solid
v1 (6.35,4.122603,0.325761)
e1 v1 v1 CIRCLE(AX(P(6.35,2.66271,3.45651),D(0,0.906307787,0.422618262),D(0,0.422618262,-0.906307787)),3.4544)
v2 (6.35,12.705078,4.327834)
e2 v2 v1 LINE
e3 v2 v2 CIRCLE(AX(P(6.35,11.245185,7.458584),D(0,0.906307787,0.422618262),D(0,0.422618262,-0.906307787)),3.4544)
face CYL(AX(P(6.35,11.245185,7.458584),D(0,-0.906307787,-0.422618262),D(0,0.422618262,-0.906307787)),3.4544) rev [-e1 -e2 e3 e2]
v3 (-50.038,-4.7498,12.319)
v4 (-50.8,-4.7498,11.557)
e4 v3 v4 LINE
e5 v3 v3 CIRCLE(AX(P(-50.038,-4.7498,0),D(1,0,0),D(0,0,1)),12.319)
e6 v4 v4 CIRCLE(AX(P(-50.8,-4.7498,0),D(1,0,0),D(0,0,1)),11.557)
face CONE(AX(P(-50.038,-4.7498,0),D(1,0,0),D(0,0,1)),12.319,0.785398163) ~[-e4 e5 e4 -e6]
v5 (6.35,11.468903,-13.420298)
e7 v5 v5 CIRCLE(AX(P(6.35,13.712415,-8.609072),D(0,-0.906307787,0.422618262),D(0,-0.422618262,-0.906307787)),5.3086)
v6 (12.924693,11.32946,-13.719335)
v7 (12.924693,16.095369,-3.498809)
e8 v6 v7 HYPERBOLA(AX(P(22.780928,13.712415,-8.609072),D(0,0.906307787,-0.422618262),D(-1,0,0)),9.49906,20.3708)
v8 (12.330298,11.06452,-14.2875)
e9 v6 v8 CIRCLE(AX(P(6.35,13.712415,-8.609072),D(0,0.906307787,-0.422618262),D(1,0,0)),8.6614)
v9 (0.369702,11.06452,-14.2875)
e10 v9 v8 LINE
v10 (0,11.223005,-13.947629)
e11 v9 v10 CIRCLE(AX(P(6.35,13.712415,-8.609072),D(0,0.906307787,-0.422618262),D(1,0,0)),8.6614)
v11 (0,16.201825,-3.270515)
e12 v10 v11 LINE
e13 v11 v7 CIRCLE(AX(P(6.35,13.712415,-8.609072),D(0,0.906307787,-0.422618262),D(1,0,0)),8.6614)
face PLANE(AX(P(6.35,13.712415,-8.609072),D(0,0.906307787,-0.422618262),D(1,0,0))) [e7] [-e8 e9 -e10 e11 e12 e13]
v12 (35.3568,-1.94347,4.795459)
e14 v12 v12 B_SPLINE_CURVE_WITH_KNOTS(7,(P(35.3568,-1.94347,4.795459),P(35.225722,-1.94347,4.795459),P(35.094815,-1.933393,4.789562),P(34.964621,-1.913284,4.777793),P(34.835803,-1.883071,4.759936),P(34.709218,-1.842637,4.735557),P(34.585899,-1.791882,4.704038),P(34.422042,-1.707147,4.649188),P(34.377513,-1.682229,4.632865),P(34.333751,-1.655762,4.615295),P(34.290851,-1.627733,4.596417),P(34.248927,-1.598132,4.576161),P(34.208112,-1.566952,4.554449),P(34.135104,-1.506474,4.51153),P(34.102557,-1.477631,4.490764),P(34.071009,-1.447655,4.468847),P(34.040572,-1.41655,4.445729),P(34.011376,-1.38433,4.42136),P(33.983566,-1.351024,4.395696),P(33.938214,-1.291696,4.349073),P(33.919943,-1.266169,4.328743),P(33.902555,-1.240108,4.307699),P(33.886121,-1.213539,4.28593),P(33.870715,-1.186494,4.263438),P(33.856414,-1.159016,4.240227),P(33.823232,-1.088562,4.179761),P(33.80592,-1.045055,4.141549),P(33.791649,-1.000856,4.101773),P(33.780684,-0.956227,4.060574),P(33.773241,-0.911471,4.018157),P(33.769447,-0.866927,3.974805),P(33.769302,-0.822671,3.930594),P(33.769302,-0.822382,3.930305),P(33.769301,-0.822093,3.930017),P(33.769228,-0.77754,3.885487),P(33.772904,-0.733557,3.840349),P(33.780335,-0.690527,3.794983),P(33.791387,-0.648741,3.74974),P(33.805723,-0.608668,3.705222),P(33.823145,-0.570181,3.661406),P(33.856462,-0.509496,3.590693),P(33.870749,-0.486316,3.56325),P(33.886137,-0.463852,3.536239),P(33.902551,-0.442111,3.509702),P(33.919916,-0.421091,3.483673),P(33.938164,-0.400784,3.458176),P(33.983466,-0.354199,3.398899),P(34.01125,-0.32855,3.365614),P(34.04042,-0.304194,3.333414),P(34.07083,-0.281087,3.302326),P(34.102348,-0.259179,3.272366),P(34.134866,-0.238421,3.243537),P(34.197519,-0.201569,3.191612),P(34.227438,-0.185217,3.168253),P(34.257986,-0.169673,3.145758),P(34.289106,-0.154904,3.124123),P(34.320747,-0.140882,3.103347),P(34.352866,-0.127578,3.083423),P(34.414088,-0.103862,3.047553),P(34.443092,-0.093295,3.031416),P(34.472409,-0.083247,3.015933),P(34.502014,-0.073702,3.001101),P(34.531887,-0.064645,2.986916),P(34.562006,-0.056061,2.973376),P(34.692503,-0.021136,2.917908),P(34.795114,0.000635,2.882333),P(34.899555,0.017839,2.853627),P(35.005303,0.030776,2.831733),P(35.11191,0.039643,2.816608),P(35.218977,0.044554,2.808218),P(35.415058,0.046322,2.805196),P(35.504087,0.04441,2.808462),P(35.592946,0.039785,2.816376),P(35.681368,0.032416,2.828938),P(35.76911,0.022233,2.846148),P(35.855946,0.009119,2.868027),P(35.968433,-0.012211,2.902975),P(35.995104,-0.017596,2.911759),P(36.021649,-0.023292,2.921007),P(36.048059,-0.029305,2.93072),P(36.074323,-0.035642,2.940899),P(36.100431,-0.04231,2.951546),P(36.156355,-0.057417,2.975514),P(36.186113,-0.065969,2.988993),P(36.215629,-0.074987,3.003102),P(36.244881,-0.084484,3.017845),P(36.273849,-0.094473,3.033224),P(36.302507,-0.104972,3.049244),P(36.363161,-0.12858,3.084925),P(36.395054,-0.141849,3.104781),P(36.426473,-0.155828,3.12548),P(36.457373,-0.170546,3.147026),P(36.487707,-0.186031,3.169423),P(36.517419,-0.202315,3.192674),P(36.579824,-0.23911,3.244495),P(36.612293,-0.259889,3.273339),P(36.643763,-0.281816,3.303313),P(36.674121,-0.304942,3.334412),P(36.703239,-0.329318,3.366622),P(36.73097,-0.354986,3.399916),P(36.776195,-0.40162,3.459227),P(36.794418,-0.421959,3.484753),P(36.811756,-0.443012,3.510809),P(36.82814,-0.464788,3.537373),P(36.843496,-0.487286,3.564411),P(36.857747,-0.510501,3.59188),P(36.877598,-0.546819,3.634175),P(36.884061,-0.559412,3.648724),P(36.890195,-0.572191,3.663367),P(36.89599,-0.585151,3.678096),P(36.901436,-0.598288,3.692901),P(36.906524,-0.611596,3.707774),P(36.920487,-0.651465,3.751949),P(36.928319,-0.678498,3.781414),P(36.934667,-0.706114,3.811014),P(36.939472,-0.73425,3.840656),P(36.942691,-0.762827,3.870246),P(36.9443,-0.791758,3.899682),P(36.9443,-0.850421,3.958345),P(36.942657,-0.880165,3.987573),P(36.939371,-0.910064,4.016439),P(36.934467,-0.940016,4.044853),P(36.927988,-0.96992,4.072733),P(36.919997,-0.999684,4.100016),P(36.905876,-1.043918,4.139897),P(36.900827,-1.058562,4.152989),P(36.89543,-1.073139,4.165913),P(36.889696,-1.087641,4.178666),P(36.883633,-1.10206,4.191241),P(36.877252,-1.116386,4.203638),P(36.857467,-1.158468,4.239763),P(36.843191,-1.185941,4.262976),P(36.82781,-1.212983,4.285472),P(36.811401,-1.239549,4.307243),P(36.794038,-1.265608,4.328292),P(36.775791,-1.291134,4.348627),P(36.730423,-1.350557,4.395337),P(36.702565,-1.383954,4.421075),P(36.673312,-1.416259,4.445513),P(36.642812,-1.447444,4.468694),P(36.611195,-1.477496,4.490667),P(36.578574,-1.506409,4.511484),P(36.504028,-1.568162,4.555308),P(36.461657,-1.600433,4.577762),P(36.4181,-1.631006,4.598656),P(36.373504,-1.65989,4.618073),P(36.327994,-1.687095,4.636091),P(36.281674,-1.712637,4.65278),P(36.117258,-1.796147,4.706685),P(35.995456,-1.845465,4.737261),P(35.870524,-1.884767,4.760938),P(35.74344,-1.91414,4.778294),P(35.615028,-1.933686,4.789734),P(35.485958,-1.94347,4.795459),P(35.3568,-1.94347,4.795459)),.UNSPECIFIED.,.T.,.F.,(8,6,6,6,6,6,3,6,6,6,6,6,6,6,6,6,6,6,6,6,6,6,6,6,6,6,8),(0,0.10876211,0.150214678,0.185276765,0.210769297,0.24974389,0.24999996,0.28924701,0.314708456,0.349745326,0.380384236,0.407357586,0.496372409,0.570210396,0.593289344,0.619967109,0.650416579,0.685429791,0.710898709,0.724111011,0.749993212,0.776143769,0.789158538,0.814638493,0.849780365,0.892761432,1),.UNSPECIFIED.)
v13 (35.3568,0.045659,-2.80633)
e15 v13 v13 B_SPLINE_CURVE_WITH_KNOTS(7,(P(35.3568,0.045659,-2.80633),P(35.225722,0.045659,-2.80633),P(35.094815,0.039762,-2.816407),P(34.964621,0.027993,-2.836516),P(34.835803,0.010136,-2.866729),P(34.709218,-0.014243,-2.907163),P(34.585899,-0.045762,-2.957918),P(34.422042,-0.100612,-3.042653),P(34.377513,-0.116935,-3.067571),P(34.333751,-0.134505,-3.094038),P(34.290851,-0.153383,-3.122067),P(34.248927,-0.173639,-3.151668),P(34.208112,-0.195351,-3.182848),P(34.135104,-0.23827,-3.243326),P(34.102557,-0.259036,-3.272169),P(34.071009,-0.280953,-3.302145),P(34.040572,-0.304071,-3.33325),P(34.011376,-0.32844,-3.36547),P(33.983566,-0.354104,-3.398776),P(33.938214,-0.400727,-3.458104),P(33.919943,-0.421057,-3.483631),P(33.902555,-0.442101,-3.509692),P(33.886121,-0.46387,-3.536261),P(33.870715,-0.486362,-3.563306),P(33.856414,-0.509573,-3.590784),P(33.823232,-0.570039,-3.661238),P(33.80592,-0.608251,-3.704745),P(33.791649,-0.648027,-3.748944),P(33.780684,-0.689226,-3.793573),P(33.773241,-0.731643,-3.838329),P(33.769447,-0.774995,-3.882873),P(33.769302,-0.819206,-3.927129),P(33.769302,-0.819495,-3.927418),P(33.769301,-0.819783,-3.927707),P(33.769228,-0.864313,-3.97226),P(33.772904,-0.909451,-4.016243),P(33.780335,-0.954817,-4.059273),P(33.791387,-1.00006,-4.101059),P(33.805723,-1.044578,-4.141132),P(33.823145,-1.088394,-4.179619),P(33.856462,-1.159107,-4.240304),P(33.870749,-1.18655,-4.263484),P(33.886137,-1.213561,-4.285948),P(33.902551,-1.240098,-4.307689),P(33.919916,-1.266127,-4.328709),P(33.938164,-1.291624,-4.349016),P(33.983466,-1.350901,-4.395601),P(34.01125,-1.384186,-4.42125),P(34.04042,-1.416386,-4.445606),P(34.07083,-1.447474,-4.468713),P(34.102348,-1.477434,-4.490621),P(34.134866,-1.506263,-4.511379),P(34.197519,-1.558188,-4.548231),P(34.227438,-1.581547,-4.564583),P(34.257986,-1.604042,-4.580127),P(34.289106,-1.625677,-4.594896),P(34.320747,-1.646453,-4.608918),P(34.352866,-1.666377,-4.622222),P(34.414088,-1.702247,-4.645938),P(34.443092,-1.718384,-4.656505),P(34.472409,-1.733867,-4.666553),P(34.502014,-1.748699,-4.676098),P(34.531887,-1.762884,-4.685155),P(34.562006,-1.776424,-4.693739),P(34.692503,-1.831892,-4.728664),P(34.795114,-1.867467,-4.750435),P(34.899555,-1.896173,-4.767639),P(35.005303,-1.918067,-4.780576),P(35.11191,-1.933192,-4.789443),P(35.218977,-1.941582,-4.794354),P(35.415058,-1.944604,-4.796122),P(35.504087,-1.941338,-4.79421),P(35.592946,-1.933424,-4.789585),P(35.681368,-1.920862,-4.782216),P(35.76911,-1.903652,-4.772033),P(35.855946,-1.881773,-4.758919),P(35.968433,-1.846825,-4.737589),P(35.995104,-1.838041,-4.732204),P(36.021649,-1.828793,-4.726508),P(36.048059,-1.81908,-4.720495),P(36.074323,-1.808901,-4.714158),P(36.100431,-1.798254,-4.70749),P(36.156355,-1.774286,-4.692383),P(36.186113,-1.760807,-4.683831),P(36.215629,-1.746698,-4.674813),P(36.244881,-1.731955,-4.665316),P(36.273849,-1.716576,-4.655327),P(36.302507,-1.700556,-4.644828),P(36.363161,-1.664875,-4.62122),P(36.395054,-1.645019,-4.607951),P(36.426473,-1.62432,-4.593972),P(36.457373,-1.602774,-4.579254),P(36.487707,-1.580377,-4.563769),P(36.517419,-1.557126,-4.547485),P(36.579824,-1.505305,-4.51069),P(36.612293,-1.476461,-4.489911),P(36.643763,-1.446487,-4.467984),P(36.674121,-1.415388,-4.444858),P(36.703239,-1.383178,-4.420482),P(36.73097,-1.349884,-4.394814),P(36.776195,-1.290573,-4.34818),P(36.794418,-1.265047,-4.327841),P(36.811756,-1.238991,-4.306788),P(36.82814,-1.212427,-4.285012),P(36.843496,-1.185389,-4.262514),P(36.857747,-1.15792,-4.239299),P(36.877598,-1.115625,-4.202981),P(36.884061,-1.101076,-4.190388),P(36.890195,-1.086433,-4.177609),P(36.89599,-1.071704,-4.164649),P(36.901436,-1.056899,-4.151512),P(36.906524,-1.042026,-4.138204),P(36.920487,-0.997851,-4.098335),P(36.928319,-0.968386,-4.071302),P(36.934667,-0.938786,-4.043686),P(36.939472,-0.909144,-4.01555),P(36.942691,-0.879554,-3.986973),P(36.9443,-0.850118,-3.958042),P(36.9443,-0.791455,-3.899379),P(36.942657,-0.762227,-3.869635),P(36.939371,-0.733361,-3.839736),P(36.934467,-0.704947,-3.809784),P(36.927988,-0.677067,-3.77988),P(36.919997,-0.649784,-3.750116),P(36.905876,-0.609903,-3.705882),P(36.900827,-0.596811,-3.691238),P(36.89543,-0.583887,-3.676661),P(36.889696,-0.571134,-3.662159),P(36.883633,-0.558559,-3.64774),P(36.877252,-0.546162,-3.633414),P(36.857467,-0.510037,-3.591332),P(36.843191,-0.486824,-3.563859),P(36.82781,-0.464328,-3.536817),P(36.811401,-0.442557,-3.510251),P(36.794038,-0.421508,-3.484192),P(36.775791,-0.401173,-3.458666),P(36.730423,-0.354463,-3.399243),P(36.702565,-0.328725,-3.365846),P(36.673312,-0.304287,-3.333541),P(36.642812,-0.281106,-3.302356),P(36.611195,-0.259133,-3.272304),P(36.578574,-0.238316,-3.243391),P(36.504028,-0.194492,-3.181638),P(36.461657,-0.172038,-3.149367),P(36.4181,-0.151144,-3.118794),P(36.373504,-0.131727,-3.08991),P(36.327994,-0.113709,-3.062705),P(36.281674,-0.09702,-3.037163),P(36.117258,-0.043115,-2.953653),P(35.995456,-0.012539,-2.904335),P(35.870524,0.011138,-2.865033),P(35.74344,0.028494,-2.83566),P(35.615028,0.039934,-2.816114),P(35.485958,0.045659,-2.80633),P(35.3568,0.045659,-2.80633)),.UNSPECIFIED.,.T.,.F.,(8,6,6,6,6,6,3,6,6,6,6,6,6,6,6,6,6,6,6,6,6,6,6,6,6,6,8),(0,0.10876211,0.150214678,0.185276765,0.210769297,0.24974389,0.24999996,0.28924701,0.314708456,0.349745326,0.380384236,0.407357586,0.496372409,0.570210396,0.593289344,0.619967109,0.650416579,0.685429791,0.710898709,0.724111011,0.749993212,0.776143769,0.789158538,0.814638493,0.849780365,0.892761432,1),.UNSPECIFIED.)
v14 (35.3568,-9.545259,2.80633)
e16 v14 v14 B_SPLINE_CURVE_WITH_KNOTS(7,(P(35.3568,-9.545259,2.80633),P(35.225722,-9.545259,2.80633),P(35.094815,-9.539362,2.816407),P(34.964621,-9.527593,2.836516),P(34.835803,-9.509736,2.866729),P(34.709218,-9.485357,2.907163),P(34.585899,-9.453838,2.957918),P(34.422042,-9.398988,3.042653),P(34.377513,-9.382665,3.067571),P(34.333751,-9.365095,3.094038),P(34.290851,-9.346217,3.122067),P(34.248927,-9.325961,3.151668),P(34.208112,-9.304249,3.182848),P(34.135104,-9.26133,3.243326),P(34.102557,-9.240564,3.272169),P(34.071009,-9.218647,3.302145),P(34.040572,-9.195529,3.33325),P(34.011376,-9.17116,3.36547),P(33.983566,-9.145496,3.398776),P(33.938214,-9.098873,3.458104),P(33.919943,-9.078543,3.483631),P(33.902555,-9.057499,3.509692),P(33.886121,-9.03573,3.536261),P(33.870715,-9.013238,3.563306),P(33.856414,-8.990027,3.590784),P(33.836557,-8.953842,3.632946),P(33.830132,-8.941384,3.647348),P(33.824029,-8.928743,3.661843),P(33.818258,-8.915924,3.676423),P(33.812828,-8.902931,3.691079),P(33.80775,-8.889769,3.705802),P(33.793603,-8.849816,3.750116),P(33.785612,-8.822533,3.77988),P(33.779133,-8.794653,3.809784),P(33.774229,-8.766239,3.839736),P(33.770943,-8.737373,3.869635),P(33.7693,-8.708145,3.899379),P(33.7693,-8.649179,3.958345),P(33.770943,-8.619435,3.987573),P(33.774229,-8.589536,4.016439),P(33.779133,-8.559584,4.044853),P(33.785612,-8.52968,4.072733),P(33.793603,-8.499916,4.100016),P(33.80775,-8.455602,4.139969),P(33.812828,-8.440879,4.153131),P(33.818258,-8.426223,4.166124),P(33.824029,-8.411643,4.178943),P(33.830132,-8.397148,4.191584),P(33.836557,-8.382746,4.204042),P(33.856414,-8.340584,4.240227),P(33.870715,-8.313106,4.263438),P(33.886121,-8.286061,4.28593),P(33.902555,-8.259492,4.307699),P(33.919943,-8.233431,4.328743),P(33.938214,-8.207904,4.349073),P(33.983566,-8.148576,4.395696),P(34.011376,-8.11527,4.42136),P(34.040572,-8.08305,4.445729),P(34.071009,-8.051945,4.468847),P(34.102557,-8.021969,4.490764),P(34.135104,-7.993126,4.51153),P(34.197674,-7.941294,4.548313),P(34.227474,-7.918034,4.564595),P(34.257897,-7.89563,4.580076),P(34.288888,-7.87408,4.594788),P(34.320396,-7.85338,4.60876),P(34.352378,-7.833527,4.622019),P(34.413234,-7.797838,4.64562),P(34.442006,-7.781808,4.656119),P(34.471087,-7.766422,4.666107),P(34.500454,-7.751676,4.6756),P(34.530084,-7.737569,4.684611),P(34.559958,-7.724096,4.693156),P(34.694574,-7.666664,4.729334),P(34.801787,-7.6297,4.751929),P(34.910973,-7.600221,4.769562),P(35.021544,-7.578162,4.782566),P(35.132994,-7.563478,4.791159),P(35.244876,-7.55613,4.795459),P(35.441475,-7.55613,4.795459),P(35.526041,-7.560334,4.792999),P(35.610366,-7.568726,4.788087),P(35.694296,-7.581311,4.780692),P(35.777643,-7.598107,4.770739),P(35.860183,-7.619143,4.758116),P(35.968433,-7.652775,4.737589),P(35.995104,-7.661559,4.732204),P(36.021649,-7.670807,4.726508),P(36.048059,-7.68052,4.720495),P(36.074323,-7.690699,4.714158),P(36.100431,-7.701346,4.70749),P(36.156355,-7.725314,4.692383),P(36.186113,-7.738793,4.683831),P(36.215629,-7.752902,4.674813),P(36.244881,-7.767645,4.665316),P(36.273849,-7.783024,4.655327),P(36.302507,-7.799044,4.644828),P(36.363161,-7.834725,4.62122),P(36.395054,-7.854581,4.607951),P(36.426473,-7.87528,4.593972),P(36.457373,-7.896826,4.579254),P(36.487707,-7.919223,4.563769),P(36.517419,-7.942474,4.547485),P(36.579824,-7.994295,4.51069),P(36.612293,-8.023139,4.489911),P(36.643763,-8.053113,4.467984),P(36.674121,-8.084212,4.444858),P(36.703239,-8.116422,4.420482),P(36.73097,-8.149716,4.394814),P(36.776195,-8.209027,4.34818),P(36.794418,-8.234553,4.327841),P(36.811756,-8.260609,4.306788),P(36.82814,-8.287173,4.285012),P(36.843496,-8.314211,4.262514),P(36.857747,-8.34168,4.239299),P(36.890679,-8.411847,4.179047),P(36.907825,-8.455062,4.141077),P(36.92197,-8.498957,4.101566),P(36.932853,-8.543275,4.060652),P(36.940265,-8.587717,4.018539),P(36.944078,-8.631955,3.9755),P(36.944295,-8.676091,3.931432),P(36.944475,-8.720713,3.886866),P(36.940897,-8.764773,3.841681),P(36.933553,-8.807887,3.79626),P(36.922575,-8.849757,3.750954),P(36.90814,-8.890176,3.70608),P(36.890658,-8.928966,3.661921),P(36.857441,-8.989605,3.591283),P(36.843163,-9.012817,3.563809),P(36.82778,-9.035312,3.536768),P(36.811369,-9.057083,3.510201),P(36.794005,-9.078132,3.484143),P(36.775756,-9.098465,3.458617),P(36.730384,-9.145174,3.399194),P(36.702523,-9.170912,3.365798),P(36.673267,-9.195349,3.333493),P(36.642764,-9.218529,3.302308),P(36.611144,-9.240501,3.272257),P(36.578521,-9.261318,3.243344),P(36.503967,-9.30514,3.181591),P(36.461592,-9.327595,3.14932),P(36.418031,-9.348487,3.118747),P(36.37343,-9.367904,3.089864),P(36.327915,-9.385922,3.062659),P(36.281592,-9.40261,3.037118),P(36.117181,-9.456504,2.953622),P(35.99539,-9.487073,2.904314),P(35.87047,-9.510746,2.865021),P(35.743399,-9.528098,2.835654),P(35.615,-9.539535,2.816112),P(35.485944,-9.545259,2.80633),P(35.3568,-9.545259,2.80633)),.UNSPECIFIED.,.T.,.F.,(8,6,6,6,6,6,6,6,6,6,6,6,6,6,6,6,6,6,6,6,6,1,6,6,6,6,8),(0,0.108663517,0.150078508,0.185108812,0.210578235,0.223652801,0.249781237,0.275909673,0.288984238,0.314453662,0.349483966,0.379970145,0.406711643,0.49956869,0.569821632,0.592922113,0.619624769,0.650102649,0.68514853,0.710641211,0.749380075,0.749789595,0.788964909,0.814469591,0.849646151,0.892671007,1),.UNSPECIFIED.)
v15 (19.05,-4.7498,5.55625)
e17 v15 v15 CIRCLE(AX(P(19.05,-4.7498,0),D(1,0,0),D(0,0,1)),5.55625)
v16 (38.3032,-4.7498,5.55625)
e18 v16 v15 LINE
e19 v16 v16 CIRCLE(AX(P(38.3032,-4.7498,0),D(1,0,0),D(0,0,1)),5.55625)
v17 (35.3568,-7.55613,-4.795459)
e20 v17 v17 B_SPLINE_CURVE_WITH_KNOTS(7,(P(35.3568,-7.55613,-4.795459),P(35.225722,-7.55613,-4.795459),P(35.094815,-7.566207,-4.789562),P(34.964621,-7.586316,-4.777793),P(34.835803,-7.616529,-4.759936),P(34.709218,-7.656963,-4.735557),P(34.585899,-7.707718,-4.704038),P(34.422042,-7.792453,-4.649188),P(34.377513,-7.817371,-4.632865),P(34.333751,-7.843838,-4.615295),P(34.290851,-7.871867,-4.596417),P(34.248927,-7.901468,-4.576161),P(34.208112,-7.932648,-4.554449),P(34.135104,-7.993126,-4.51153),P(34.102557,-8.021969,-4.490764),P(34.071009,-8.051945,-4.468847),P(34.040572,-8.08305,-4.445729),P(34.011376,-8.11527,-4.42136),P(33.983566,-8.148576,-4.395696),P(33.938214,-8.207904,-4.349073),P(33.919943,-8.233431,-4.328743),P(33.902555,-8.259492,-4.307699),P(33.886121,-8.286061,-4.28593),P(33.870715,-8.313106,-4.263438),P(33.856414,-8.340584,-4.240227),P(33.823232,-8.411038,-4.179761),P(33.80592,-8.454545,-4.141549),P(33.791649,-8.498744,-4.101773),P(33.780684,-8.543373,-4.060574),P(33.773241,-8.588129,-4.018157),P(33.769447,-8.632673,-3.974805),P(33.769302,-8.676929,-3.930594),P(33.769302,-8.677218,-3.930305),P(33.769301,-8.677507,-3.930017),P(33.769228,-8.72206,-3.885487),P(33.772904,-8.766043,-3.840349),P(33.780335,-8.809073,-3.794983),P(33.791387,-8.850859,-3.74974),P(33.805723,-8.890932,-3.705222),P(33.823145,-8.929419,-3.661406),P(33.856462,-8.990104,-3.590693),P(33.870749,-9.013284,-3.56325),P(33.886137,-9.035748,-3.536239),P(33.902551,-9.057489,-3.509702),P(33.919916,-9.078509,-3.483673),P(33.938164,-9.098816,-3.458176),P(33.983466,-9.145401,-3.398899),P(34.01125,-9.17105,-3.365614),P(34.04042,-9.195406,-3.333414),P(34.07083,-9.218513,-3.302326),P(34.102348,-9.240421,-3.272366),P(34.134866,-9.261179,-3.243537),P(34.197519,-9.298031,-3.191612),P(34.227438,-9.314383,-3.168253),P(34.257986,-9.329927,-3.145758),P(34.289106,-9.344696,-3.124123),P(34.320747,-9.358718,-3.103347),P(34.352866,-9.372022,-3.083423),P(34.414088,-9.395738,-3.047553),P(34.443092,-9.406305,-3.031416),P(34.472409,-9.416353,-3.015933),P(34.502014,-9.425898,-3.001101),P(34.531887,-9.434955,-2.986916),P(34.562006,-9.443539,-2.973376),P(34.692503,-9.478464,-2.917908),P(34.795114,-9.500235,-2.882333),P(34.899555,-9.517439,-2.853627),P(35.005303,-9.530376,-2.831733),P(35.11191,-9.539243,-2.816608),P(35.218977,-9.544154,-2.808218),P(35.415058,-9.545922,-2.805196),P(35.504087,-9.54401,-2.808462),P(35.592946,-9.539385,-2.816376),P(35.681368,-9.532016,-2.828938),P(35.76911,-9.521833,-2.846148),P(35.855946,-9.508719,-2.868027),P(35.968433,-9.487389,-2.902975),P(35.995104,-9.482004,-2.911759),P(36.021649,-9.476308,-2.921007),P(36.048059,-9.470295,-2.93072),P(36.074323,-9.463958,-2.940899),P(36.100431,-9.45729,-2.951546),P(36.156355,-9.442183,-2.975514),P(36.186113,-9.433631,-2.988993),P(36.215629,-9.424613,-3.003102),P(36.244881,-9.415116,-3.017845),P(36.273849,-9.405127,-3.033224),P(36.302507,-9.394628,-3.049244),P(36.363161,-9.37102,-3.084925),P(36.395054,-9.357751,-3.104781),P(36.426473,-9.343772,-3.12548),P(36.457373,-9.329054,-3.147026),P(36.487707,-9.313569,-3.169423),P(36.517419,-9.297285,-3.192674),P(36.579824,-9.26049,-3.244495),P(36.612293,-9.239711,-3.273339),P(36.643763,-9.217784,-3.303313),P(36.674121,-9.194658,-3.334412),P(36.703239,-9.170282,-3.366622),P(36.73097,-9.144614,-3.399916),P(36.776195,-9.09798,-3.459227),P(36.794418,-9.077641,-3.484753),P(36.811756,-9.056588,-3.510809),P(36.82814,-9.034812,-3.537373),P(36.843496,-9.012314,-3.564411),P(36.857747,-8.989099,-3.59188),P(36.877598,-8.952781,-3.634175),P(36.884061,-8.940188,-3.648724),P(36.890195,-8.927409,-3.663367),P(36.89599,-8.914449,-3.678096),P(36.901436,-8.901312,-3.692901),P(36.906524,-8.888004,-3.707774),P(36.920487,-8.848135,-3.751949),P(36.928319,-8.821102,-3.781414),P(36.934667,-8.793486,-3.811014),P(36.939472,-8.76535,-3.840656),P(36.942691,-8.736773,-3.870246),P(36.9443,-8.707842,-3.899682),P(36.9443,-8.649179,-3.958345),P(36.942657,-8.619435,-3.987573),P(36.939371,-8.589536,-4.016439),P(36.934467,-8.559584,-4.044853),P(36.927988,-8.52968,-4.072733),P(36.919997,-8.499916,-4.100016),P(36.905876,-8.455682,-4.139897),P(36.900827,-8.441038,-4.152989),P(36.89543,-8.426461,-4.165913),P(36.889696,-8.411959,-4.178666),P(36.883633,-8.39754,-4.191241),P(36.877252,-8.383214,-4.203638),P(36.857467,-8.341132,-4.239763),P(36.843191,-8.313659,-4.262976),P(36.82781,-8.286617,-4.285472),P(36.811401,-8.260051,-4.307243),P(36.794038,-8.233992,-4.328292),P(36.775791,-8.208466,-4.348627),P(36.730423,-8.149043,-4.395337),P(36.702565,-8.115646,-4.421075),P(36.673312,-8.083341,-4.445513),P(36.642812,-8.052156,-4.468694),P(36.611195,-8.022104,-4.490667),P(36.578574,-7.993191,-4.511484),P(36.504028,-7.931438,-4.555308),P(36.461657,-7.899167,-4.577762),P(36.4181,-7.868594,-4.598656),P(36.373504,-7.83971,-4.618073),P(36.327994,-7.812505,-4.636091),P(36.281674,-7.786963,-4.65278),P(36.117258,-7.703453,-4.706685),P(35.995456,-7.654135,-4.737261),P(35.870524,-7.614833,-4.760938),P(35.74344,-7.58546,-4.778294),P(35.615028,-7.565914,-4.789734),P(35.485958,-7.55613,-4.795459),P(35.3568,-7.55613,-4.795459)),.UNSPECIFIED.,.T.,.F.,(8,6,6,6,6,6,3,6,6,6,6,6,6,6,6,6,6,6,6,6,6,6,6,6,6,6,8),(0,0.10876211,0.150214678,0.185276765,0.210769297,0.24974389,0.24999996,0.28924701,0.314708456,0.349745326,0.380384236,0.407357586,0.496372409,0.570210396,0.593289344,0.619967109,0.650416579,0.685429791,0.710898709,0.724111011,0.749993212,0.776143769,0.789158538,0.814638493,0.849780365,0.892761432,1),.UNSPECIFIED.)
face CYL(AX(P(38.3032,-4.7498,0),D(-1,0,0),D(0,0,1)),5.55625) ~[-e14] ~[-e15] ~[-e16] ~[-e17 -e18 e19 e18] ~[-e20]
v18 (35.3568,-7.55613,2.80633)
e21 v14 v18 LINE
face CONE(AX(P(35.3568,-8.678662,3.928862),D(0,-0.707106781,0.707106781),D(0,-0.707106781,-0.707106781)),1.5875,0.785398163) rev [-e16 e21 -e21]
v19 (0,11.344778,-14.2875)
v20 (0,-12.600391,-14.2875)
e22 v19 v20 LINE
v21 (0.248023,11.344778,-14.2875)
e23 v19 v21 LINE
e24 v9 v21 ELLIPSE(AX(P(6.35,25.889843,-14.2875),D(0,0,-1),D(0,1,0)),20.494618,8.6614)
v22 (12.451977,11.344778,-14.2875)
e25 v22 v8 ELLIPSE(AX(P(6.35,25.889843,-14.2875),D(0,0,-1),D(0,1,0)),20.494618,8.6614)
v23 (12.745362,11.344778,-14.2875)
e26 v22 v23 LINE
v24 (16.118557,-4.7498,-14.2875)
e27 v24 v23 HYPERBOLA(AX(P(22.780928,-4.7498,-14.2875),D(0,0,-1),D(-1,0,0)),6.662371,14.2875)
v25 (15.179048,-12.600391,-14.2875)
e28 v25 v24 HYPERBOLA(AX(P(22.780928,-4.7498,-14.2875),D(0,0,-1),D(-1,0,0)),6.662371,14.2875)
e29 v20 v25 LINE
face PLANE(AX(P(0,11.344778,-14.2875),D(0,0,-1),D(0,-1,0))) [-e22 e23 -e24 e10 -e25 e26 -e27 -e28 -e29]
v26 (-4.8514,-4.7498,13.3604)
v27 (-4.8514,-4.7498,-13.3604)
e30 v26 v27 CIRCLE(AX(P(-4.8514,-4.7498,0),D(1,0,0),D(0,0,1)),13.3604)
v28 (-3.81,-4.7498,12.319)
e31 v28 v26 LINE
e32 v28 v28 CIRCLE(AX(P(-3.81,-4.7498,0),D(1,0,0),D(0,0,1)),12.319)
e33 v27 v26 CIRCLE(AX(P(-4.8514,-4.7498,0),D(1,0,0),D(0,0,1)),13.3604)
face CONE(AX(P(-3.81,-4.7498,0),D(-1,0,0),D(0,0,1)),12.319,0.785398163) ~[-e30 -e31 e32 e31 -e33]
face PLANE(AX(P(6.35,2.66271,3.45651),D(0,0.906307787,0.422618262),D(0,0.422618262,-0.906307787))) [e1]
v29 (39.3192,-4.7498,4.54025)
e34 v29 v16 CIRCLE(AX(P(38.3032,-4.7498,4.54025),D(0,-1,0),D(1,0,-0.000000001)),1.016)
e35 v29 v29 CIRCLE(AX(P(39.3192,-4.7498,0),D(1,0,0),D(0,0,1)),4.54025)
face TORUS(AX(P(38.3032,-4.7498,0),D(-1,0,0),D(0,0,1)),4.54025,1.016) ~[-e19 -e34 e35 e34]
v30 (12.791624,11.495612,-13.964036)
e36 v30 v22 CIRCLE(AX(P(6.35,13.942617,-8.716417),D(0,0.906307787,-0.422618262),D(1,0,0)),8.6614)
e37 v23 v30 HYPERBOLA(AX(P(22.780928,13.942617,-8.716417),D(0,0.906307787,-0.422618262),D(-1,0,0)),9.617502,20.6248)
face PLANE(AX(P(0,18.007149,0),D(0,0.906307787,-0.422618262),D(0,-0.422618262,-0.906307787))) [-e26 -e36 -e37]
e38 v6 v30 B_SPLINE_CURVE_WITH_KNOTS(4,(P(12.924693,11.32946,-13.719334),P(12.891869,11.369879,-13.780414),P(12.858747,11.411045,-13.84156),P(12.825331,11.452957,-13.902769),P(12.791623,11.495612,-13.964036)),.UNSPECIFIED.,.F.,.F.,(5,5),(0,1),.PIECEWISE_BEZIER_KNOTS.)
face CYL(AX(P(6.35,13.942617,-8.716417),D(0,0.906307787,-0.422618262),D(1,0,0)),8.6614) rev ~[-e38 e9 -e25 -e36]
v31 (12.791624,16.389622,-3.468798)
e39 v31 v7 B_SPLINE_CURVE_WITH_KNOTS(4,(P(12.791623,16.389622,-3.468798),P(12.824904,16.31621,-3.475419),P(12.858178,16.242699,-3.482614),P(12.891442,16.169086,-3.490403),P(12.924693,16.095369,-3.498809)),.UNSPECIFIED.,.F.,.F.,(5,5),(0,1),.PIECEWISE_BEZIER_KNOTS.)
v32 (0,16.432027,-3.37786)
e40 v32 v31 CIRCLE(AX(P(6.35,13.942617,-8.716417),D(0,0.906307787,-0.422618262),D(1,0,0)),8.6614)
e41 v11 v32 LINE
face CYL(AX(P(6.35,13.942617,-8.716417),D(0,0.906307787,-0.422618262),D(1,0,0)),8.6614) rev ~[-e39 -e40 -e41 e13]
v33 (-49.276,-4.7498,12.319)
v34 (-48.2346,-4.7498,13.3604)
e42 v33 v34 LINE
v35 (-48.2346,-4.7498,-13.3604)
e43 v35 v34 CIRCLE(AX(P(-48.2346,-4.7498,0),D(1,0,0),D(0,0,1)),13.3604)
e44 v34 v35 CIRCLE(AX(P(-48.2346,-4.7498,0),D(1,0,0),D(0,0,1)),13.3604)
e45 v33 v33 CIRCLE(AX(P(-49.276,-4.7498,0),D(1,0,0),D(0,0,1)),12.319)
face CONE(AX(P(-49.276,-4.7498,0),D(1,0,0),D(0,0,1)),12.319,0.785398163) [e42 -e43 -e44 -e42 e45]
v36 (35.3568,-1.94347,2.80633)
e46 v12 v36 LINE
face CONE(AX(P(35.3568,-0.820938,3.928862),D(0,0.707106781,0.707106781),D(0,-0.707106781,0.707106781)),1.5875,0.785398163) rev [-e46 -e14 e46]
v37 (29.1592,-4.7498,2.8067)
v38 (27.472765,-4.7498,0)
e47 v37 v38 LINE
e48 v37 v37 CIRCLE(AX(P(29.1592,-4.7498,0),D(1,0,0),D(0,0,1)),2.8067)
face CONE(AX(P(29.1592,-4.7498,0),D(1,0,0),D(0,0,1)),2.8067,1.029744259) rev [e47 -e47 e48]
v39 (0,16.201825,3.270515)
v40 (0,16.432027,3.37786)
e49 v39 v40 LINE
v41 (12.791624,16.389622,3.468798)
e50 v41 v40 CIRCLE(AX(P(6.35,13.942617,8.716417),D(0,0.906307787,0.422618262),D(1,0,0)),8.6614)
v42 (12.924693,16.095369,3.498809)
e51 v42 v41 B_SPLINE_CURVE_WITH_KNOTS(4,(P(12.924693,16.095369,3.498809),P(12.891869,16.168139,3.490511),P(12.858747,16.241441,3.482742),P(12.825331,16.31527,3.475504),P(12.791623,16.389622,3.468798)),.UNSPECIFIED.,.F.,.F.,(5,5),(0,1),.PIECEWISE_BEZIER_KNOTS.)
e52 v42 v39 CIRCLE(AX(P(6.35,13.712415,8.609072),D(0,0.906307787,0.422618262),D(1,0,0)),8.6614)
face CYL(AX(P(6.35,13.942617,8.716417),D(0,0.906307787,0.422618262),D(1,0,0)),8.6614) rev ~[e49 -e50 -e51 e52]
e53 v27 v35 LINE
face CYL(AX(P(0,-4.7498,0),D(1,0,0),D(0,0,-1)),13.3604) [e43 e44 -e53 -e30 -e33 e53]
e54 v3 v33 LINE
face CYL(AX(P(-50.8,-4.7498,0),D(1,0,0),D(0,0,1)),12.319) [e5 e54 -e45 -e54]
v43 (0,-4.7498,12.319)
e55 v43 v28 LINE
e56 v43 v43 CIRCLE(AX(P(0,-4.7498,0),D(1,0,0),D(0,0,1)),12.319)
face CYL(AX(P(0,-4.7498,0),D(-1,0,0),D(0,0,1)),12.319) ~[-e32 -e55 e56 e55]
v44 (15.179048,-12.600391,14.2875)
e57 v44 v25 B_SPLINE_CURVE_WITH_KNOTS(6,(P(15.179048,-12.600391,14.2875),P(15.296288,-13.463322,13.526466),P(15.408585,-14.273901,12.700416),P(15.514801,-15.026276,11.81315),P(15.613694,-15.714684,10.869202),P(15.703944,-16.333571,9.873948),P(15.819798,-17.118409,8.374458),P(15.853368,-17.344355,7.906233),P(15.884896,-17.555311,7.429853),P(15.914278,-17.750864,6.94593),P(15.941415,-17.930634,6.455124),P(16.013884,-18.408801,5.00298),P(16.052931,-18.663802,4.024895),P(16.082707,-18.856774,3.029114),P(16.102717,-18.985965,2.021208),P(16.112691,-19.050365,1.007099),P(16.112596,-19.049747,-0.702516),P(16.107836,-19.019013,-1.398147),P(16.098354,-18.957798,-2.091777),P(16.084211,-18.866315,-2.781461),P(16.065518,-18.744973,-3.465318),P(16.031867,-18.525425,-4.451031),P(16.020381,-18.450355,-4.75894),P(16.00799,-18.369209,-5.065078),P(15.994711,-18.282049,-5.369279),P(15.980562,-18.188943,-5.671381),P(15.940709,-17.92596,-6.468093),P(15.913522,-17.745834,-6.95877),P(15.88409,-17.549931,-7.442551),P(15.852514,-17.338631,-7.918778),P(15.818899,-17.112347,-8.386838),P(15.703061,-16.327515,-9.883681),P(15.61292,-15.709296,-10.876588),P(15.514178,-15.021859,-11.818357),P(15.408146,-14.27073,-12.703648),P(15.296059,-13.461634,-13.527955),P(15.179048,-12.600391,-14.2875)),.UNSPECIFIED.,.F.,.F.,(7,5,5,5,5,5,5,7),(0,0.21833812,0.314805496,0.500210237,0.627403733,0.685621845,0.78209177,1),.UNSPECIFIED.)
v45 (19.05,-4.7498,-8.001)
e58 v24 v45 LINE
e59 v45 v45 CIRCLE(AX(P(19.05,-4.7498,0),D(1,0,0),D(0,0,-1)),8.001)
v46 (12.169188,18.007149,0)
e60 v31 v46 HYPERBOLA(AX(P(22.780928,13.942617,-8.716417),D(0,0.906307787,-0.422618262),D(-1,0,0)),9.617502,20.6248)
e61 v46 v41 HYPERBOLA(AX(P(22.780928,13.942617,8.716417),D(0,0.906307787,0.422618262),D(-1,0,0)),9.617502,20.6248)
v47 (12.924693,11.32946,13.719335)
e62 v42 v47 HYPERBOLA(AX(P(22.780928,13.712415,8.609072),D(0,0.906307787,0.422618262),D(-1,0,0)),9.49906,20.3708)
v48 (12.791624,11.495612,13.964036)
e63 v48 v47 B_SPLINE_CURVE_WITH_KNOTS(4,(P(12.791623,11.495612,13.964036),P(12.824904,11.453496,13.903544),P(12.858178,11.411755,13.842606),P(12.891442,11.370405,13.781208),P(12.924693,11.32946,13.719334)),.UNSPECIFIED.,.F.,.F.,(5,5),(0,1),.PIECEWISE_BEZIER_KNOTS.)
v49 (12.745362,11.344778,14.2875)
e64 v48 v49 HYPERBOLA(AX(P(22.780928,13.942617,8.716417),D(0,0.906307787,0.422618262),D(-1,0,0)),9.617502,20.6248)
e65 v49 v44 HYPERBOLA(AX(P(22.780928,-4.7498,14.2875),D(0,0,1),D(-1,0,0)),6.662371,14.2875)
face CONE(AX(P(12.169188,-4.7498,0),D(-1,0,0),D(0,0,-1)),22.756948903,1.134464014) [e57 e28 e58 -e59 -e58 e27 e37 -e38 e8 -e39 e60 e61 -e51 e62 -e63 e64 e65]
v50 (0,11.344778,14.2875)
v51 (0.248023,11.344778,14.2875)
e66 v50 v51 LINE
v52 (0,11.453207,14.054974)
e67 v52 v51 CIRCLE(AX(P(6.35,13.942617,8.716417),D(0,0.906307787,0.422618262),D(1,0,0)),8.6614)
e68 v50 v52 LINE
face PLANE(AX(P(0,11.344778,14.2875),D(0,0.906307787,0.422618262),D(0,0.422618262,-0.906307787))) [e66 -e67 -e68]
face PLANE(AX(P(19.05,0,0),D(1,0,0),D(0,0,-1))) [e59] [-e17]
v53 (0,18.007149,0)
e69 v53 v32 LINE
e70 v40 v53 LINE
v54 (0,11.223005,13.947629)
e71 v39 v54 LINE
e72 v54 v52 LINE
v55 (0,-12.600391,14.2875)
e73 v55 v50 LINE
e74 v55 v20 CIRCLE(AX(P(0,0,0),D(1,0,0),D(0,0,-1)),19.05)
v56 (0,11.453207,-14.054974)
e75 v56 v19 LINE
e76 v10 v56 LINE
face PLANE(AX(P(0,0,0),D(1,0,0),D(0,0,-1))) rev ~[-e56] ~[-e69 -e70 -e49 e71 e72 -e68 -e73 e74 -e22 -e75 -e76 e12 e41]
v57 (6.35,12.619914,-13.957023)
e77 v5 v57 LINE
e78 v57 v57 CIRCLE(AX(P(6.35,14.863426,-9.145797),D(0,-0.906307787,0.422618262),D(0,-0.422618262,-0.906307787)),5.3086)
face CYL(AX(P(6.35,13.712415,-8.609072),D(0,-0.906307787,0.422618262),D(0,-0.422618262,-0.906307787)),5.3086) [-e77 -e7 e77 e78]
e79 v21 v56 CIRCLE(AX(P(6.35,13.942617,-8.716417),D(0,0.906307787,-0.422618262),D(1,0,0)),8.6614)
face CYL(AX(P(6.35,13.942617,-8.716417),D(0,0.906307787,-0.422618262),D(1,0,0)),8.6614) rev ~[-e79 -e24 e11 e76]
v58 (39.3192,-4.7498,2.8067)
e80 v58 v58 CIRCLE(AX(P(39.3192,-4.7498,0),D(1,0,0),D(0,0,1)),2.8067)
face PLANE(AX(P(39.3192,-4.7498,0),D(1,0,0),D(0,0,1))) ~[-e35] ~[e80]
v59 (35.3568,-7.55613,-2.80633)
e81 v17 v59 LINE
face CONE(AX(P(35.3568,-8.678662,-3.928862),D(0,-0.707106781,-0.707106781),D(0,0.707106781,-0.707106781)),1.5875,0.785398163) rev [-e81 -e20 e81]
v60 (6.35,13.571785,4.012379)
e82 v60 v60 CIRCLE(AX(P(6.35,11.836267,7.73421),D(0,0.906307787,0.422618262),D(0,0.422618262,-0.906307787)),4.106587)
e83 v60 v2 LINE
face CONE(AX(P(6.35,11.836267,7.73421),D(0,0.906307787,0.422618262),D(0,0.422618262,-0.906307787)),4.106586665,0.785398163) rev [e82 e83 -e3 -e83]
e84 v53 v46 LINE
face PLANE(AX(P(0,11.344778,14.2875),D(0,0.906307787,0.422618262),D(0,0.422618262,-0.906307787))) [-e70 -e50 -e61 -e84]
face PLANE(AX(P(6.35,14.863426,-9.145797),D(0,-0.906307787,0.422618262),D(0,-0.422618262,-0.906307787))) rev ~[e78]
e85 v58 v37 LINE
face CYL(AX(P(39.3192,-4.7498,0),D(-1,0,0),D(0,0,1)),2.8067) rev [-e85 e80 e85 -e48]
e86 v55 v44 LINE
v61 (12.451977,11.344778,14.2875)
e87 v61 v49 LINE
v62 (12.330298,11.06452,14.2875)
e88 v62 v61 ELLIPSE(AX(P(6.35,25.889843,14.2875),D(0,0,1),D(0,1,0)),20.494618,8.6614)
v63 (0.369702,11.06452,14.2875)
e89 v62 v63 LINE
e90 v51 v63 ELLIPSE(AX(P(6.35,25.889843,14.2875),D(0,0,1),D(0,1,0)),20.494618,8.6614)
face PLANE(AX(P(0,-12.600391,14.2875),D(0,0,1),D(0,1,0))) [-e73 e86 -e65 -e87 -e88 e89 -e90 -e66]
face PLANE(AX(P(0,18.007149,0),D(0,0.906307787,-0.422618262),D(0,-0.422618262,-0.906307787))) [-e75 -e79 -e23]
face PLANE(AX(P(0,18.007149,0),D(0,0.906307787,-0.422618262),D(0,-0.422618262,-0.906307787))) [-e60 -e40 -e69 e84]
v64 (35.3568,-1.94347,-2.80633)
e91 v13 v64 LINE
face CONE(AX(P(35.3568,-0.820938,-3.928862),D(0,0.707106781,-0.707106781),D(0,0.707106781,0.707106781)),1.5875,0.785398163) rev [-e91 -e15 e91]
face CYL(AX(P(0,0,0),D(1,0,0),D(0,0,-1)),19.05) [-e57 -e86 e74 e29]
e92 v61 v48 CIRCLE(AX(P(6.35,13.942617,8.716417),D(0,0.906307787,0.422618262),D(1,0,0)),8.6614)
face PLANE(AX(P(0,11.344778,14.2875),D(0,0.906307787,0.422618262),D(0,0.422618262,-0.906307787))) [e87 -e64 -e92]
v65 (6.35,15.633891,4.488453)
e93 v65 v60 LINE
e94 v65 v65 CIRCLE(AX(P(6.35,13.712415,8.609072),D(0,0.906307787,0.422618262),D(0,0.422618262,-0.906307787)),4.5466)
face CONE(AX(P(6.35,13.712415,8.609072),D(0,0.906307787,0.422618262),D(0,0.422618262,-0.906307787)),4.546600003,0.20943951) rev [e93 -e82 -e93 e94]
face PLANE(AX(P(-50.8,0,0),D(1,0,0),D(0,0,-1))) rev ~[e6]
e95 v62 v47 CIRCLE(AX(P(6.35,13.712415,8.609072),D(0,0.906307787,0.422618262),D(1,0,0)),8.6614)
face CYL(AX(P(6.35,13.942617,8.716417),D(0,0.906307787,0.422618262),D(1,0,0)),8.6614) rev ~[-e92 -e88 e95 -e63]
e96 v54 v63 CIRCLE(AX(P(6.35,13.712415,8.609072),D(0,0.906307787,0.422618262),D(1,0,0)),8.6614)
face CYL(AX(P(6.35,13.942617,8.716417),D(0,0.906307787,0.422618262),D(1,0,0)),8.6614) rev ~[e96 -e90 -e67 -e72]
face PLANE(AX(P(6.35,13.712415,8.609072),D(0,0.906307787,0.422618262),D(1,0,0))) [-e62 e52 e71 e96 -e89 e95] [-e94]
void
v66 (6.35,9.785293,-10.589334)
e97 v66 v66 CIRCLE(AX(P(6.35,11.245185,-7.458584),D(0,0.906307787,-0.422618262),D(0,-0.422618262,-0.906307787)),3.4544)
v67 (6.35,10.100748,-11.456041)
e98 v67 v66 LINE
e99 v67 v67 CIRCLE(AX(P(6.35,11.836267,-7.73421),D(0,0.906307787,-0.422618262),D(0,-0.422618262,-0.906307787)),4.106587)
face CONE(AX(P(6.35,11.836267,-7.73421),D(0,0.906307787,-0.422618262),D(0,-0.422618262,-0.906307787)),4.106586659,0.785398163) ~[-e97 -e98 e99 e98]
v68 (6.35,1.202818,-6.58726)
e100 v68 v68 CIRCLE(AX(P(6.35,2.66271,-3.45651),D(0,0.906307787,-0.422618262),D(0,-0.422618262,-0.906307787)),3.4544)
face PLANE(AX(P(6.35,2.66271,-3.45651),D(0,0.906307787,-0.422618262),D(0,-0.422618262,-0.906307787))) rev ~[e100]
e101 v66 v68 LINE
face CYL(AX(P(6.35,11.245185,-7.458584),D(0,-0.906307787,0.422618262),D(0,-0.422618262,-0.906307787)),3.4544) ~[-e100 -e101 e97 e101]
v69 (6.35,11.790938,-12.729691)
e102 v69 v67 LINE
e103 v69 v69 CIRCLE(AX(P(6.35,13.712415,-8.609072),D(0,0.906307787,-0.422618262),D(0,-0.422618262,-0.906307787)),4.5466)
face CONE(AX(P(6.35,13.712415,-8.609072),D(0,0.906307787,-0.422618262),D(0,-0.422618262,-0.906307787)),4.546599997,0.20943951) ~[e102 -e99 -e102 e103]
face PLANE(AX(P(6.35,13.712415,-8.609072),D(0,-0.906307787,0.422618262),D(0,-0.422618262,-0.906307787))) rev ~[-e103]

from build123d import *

# Parameters (mm, degrees)
SKETCH1_R           = 19.05
EXTRUDE1_DEPTH      = 19.05
EXTRUDE1_DEPTH_BACK = 50.8
CUT_EXTRUDE1_REACH  = 52.8
SKETCH2_R           = 19.05
SKETCH2_R_2         = 13.3604
CUT_EXTRUDE3_REACH  = 21.05
SKETCH19_R          = 8.6614
CUT_EXTRUDE4_DEPTH  = 0.254
SKETCH20_R          = 8.6614
CUT_EXTRUDE5_DEPTH  = 0.254
CHAMFER1_SIZE       = 0.762
SKETCH15_R          = 5.3086
EXTRUDE2_DEPTH      = 1.27
CIRPATTERN1_COUNT   = 4


with BuildPart() as part:
    # Sketch1 → Extrude1 (new body, two sides)
    with BuildSketch(Plane(origin=(0, 0, 0), x_dir=(0, 0, -1), z_dir=(1, 0, 0))) as extrude1_sk:
        Circle(SKETCH1_R)
    extrude(amount=EXTRUDE1_DEPTH)
    extrude(extrude1_sk.sketch, amount=-EXTRUDE1_DEPTH_BACK)

    # Sketch2 → Cut-Extrude1 (cut, up to next)
    with BuildSketch(Plane(origin=(0, 0, 0), x_dir=(0, 0, -1), z_dir=(1, 0, 0)), mode=Mode.PRIVATE) as cut_extrude1_sk1:
        Circle(SKETCH2_R)
        with Locations((0, -4.7498)):
            Circle(SKETCH2_R_2, mode=Mode.SUBTRACT)
    cut_extrude1_tool1 = extrude(cut_extrude1_sk1.sketch, amount=-CUT_EXTRUDE1_REACH, mode=Mode.PRIVATE) & part.part
    add(cut_extrude1_tool1.solids().sort_by_distance((0, 0, 18.511185))[0], mode=Mode.SUBTRACT)

    # Sketch4 → Cut-Extrude3 (cut, up to next)
    with BuildSketch(Plane.ZY, mode=Mode.PRIVATE) as cut_extrude3_sk1:
        with BuildLine():
            Line((14.2875, -12.600390619), (14.2875, 11.344778237))
            Line((14.2875, 11.344778237), (0, 18.007148903))
            Line((0, 18.007148903), (-14.2875, 11.344778237))
            Line((-14.2875, 11.344778237), (-14.2875, -12.600390619))
            ThreePointArc((-14.2875, -12.600390619), (0, 19.05), (14.2875, -12.600390619))
        make_face()
    cut_extrude3_tool1 = extrude(cut_extrude3_sk1.sketch, amount=-CUT_EXTRUDE3_REACH, mode=Mode.PRIVATE) & part.part
    add(cut_extrude3_tool1.solids().sort_by_distance((0, -0.627806, 14.782814))[0], mode=Mode.SUBTRACT)

    # Sketch6 → Cut-Revolve2 (revolve, cut)
    with BuildSketch(Plane.XY, mode=Mode.PRIVATE) as cut_revolve2_sk:
        Polygon((12.169188023, 18.007148903), (19.05, 3.2512), (19.05, 18.007148903), align=None)
    revolve(cut_revolve2_sk.sketch.rotate(Axis((1.987224567, -4.7498, 0), (1, 0, 0)), 270), axis=Axis((1.987224567, -4.7498, 0), (1, 0, 0)), mode=Mode.SUBTRACT)  # turned: the seam where the file's is

    # S2D0002 → Cut-Revolve3 (revolve, cut)
    with BuildSketch(Plane(origin=(6.35, 13.712414668, 8.609072086), x_dir=(0, 0.422618262, -0.906307787), z_dir=(1, 0, 0))):
        Polygon((0, 0), (4.5466, 0), (4.106586662, -2.0701), (3.4544, -2.722286662), (3.4544, -12.192), (0, -12.192), align=None)
    revolve(axis=Axis((6.35, 2.110224902, 3.198882147), (0, 0.906307787, 0.422618262)), mode=Mode.SUBTRACT)

    # Sketch19 → Cut-Extrude4 (cut)
    with BuildSketch(Plane(origin=(0, 14.790960552, 6.897138177), x_dir=(1, 0, 0), z_dir=(0, 0.906307787, 0.422618262))):
        with Locations((6.35, -2.00735222)):
            Circle(SKETCH19_R)
    extrude(amount=-CUT_EXTRUDE4_DEPTH, mode=Mode.SUBTRACT)

    # Sketch8 → Cut-Revolve4 (revolve, cut)
    with BuildSketch(Plane(origin=(6.35, 13.712414668, -8.609072086), x_dir=(0, -0.422618262, -0.906307787), z_dir=(1, 0, 0))):
        Polygon((0, 0), (4.5466, 0), (4.106586662, -2.0701), (3.4544, -2.722286662), (3.4544, -12.192), (0, -12.192), align=None)
    revolve(axis=Axis((6.35, 2.110224902, -3.198882147), (0, 0.906307787, -0.422618262)), mode=Mode.SUBTRACT)

    # Sketch20 → Cut-Extrude5 (cut)
    with BuildSketch(Plane(origin=(0, 14.790960552, -6.897138177), x_dir=(1, 0, 0), z_dir=(0, 0.906307787, -0.422618262))):
        with Locations((6.35, 2.00735222)):
            Circle(SKETCH20_R)
    extrude(amount=-CUT_EXTRUDE5_DEPTH, mode=Mode.SUBTRACT)

    # Sketch10 → Cut-Revolve6 (revolve, cut)
    with BuildSketch(Plane.XY, mode=Mode.PRIVATE) as cut_revolve6_sk:
        Polygon((0, 8.6106), (0, 7.5692), (-3.81, 7.5692), (-4.8514, 8.6106), align=None)
    revolve(cut_revolve6_sk.sketch.rotate(Axis((-5.09397, -4.7498, 0), (1, 0, 0)), 90), axis=Axis((-5.09397, -4.7498, 0), (1, 0, 0)), mode=Mode.SUBTRACT)  # turned: the seam where the file's is

    # Sketch12 → Cut-Revolve8 (revolve, cut)
    with BuildSketch(Plane.XY, mode=Mode.PRIVATE) as cut_revolve8_sk:
        Polygon((-50.8, 8.6106), (-50.8, 7.5692), (-49.276, 7.5692), (-48.2346, 8.6106), align=None)
    revolve(cut_revolve8_sk.sketch.rotate(Axis((-50.92827, -4.7498, 0), (1, 0, 0)), 90), axis=Axis((-50.92827, -4.7498, 0), (1, 0, 0)), mode=Mode.SUBTRACT)  # turned: the seam where the file's is

    # Chamfer1
    chamfer1_edges = [part.edges().sort_by_distance(p)[0] for p in [
        (-50.8, -4.7498, -12.319),
    ]]
    chamfer(chamfer1_edges, length=CHAMFER1_SIZE)

    # Sketch13 → Revolve1 (revolve)
    with BuildSketch(Plane(origin=(0, 0, 0), x_dir=(0, -1, 0), z_dir=(0, 0, 1)), mode=Mode.PRIVATE) as revolve1_sk:
        with BuildLine():
            Line((4.7498, 19.05), (4.7498, 39.3192))
            Line((4.7498, 39.3192), (9.29005, 39.3192))
            ThreePointArc((9.29005, 39.3192), (10.00847049, 39.02162049), (10.30605, 38.3032))
            Line((10.30605, 38.3032), (10.30605, 19.05))
            Line((10.30605, 19.05), (4.7498, 19.05))
        make_face()
    revolve(revolve1_sk.sketch.rotate(Axis((18.03654, -4.7498, 0), (1, 0, 0)), 270), axis=Axis((18.03654, -4.7498, 0), (1, 0, 0)))  # turned: the seam where the file's is

    # S2D0001 → Cut-Revolve9 (revolve, cut)
    with BuildSketch(Plane(origin=(39.3192, -7.5565, 0), x_dir=(0, -1, 0), z_dir=(0, 0, 1)), mode=Mode.PRIVATE) as cut_revolve9_sk:
        Polygon((0, 0), (0, -10.16), (-2.8067, -11.846435499), (-2.8067, 0), align=None)
    revolve(cut_revolve9_sk.sketch.rotate(Axis((26.880442726, -4.7498, 0), (1, 0, 0)), 270), axis=Axis((26.880442726, -4.7498, 0), (1, 0, 0)), mode=Mode.SUBTRACT)  # turned: the seam where the file's is

    # Sketch15 → Extrude2 (add)
    with BuildSketch(Plane(origin=(19.05, 14.560758374, -6.789793138), x_dir=(0, -0.422618262, -0.906307787), z_dir=(0, -0.906307787, 0.422618262))):
        with Locations((2.00735222, -12.7)):
            Circle(SKETCH15_R)
    extrude(amount=-EXTRUDE2_DEPTH)

    # Sketch16 → Cut-Revolve10 (revolve, cut)
    with BuildSketch(Plane(origin=(35.3568, -0.820937947, -3.928862053), x_dir=(-1, 0, 0), z_dir=(0, -0.707106781, -0.707106781)), mode=Mode.PRIVATE) as cut_revolve10_sk:
        Polygon((0, 0), (1.5875, 0), (0, -1.5875), align=None)
    cut_revolve10 = revolve(cut_revolve10_sk.sketch.rotate(Axis((35.3568, -3.280818463, -1.468981537), (0, 0.707106781, -0.707106781)), 90), axis=Axis((35.3568, -3.280818463, -1.468981537), (0, 0.707106781, -0.707106781)), mode=Mode.SUBTRACT)  # turned: the seam where the file's is

    # CirPattern1: Cut-Revolve10 ×4 about axis
    cirpattern1_axis = Axis((18.03654, -4.7498, 0), (-1, 0, 0))
    for i in range(1, CIRPATTERN1_COUNT):
        add(cut_revolve10.rotate(cirpattern1_axis, i * 360 / CIRPATTERN1_COUNT), mode=Mode.SUBTRACT)


solid = part.part
